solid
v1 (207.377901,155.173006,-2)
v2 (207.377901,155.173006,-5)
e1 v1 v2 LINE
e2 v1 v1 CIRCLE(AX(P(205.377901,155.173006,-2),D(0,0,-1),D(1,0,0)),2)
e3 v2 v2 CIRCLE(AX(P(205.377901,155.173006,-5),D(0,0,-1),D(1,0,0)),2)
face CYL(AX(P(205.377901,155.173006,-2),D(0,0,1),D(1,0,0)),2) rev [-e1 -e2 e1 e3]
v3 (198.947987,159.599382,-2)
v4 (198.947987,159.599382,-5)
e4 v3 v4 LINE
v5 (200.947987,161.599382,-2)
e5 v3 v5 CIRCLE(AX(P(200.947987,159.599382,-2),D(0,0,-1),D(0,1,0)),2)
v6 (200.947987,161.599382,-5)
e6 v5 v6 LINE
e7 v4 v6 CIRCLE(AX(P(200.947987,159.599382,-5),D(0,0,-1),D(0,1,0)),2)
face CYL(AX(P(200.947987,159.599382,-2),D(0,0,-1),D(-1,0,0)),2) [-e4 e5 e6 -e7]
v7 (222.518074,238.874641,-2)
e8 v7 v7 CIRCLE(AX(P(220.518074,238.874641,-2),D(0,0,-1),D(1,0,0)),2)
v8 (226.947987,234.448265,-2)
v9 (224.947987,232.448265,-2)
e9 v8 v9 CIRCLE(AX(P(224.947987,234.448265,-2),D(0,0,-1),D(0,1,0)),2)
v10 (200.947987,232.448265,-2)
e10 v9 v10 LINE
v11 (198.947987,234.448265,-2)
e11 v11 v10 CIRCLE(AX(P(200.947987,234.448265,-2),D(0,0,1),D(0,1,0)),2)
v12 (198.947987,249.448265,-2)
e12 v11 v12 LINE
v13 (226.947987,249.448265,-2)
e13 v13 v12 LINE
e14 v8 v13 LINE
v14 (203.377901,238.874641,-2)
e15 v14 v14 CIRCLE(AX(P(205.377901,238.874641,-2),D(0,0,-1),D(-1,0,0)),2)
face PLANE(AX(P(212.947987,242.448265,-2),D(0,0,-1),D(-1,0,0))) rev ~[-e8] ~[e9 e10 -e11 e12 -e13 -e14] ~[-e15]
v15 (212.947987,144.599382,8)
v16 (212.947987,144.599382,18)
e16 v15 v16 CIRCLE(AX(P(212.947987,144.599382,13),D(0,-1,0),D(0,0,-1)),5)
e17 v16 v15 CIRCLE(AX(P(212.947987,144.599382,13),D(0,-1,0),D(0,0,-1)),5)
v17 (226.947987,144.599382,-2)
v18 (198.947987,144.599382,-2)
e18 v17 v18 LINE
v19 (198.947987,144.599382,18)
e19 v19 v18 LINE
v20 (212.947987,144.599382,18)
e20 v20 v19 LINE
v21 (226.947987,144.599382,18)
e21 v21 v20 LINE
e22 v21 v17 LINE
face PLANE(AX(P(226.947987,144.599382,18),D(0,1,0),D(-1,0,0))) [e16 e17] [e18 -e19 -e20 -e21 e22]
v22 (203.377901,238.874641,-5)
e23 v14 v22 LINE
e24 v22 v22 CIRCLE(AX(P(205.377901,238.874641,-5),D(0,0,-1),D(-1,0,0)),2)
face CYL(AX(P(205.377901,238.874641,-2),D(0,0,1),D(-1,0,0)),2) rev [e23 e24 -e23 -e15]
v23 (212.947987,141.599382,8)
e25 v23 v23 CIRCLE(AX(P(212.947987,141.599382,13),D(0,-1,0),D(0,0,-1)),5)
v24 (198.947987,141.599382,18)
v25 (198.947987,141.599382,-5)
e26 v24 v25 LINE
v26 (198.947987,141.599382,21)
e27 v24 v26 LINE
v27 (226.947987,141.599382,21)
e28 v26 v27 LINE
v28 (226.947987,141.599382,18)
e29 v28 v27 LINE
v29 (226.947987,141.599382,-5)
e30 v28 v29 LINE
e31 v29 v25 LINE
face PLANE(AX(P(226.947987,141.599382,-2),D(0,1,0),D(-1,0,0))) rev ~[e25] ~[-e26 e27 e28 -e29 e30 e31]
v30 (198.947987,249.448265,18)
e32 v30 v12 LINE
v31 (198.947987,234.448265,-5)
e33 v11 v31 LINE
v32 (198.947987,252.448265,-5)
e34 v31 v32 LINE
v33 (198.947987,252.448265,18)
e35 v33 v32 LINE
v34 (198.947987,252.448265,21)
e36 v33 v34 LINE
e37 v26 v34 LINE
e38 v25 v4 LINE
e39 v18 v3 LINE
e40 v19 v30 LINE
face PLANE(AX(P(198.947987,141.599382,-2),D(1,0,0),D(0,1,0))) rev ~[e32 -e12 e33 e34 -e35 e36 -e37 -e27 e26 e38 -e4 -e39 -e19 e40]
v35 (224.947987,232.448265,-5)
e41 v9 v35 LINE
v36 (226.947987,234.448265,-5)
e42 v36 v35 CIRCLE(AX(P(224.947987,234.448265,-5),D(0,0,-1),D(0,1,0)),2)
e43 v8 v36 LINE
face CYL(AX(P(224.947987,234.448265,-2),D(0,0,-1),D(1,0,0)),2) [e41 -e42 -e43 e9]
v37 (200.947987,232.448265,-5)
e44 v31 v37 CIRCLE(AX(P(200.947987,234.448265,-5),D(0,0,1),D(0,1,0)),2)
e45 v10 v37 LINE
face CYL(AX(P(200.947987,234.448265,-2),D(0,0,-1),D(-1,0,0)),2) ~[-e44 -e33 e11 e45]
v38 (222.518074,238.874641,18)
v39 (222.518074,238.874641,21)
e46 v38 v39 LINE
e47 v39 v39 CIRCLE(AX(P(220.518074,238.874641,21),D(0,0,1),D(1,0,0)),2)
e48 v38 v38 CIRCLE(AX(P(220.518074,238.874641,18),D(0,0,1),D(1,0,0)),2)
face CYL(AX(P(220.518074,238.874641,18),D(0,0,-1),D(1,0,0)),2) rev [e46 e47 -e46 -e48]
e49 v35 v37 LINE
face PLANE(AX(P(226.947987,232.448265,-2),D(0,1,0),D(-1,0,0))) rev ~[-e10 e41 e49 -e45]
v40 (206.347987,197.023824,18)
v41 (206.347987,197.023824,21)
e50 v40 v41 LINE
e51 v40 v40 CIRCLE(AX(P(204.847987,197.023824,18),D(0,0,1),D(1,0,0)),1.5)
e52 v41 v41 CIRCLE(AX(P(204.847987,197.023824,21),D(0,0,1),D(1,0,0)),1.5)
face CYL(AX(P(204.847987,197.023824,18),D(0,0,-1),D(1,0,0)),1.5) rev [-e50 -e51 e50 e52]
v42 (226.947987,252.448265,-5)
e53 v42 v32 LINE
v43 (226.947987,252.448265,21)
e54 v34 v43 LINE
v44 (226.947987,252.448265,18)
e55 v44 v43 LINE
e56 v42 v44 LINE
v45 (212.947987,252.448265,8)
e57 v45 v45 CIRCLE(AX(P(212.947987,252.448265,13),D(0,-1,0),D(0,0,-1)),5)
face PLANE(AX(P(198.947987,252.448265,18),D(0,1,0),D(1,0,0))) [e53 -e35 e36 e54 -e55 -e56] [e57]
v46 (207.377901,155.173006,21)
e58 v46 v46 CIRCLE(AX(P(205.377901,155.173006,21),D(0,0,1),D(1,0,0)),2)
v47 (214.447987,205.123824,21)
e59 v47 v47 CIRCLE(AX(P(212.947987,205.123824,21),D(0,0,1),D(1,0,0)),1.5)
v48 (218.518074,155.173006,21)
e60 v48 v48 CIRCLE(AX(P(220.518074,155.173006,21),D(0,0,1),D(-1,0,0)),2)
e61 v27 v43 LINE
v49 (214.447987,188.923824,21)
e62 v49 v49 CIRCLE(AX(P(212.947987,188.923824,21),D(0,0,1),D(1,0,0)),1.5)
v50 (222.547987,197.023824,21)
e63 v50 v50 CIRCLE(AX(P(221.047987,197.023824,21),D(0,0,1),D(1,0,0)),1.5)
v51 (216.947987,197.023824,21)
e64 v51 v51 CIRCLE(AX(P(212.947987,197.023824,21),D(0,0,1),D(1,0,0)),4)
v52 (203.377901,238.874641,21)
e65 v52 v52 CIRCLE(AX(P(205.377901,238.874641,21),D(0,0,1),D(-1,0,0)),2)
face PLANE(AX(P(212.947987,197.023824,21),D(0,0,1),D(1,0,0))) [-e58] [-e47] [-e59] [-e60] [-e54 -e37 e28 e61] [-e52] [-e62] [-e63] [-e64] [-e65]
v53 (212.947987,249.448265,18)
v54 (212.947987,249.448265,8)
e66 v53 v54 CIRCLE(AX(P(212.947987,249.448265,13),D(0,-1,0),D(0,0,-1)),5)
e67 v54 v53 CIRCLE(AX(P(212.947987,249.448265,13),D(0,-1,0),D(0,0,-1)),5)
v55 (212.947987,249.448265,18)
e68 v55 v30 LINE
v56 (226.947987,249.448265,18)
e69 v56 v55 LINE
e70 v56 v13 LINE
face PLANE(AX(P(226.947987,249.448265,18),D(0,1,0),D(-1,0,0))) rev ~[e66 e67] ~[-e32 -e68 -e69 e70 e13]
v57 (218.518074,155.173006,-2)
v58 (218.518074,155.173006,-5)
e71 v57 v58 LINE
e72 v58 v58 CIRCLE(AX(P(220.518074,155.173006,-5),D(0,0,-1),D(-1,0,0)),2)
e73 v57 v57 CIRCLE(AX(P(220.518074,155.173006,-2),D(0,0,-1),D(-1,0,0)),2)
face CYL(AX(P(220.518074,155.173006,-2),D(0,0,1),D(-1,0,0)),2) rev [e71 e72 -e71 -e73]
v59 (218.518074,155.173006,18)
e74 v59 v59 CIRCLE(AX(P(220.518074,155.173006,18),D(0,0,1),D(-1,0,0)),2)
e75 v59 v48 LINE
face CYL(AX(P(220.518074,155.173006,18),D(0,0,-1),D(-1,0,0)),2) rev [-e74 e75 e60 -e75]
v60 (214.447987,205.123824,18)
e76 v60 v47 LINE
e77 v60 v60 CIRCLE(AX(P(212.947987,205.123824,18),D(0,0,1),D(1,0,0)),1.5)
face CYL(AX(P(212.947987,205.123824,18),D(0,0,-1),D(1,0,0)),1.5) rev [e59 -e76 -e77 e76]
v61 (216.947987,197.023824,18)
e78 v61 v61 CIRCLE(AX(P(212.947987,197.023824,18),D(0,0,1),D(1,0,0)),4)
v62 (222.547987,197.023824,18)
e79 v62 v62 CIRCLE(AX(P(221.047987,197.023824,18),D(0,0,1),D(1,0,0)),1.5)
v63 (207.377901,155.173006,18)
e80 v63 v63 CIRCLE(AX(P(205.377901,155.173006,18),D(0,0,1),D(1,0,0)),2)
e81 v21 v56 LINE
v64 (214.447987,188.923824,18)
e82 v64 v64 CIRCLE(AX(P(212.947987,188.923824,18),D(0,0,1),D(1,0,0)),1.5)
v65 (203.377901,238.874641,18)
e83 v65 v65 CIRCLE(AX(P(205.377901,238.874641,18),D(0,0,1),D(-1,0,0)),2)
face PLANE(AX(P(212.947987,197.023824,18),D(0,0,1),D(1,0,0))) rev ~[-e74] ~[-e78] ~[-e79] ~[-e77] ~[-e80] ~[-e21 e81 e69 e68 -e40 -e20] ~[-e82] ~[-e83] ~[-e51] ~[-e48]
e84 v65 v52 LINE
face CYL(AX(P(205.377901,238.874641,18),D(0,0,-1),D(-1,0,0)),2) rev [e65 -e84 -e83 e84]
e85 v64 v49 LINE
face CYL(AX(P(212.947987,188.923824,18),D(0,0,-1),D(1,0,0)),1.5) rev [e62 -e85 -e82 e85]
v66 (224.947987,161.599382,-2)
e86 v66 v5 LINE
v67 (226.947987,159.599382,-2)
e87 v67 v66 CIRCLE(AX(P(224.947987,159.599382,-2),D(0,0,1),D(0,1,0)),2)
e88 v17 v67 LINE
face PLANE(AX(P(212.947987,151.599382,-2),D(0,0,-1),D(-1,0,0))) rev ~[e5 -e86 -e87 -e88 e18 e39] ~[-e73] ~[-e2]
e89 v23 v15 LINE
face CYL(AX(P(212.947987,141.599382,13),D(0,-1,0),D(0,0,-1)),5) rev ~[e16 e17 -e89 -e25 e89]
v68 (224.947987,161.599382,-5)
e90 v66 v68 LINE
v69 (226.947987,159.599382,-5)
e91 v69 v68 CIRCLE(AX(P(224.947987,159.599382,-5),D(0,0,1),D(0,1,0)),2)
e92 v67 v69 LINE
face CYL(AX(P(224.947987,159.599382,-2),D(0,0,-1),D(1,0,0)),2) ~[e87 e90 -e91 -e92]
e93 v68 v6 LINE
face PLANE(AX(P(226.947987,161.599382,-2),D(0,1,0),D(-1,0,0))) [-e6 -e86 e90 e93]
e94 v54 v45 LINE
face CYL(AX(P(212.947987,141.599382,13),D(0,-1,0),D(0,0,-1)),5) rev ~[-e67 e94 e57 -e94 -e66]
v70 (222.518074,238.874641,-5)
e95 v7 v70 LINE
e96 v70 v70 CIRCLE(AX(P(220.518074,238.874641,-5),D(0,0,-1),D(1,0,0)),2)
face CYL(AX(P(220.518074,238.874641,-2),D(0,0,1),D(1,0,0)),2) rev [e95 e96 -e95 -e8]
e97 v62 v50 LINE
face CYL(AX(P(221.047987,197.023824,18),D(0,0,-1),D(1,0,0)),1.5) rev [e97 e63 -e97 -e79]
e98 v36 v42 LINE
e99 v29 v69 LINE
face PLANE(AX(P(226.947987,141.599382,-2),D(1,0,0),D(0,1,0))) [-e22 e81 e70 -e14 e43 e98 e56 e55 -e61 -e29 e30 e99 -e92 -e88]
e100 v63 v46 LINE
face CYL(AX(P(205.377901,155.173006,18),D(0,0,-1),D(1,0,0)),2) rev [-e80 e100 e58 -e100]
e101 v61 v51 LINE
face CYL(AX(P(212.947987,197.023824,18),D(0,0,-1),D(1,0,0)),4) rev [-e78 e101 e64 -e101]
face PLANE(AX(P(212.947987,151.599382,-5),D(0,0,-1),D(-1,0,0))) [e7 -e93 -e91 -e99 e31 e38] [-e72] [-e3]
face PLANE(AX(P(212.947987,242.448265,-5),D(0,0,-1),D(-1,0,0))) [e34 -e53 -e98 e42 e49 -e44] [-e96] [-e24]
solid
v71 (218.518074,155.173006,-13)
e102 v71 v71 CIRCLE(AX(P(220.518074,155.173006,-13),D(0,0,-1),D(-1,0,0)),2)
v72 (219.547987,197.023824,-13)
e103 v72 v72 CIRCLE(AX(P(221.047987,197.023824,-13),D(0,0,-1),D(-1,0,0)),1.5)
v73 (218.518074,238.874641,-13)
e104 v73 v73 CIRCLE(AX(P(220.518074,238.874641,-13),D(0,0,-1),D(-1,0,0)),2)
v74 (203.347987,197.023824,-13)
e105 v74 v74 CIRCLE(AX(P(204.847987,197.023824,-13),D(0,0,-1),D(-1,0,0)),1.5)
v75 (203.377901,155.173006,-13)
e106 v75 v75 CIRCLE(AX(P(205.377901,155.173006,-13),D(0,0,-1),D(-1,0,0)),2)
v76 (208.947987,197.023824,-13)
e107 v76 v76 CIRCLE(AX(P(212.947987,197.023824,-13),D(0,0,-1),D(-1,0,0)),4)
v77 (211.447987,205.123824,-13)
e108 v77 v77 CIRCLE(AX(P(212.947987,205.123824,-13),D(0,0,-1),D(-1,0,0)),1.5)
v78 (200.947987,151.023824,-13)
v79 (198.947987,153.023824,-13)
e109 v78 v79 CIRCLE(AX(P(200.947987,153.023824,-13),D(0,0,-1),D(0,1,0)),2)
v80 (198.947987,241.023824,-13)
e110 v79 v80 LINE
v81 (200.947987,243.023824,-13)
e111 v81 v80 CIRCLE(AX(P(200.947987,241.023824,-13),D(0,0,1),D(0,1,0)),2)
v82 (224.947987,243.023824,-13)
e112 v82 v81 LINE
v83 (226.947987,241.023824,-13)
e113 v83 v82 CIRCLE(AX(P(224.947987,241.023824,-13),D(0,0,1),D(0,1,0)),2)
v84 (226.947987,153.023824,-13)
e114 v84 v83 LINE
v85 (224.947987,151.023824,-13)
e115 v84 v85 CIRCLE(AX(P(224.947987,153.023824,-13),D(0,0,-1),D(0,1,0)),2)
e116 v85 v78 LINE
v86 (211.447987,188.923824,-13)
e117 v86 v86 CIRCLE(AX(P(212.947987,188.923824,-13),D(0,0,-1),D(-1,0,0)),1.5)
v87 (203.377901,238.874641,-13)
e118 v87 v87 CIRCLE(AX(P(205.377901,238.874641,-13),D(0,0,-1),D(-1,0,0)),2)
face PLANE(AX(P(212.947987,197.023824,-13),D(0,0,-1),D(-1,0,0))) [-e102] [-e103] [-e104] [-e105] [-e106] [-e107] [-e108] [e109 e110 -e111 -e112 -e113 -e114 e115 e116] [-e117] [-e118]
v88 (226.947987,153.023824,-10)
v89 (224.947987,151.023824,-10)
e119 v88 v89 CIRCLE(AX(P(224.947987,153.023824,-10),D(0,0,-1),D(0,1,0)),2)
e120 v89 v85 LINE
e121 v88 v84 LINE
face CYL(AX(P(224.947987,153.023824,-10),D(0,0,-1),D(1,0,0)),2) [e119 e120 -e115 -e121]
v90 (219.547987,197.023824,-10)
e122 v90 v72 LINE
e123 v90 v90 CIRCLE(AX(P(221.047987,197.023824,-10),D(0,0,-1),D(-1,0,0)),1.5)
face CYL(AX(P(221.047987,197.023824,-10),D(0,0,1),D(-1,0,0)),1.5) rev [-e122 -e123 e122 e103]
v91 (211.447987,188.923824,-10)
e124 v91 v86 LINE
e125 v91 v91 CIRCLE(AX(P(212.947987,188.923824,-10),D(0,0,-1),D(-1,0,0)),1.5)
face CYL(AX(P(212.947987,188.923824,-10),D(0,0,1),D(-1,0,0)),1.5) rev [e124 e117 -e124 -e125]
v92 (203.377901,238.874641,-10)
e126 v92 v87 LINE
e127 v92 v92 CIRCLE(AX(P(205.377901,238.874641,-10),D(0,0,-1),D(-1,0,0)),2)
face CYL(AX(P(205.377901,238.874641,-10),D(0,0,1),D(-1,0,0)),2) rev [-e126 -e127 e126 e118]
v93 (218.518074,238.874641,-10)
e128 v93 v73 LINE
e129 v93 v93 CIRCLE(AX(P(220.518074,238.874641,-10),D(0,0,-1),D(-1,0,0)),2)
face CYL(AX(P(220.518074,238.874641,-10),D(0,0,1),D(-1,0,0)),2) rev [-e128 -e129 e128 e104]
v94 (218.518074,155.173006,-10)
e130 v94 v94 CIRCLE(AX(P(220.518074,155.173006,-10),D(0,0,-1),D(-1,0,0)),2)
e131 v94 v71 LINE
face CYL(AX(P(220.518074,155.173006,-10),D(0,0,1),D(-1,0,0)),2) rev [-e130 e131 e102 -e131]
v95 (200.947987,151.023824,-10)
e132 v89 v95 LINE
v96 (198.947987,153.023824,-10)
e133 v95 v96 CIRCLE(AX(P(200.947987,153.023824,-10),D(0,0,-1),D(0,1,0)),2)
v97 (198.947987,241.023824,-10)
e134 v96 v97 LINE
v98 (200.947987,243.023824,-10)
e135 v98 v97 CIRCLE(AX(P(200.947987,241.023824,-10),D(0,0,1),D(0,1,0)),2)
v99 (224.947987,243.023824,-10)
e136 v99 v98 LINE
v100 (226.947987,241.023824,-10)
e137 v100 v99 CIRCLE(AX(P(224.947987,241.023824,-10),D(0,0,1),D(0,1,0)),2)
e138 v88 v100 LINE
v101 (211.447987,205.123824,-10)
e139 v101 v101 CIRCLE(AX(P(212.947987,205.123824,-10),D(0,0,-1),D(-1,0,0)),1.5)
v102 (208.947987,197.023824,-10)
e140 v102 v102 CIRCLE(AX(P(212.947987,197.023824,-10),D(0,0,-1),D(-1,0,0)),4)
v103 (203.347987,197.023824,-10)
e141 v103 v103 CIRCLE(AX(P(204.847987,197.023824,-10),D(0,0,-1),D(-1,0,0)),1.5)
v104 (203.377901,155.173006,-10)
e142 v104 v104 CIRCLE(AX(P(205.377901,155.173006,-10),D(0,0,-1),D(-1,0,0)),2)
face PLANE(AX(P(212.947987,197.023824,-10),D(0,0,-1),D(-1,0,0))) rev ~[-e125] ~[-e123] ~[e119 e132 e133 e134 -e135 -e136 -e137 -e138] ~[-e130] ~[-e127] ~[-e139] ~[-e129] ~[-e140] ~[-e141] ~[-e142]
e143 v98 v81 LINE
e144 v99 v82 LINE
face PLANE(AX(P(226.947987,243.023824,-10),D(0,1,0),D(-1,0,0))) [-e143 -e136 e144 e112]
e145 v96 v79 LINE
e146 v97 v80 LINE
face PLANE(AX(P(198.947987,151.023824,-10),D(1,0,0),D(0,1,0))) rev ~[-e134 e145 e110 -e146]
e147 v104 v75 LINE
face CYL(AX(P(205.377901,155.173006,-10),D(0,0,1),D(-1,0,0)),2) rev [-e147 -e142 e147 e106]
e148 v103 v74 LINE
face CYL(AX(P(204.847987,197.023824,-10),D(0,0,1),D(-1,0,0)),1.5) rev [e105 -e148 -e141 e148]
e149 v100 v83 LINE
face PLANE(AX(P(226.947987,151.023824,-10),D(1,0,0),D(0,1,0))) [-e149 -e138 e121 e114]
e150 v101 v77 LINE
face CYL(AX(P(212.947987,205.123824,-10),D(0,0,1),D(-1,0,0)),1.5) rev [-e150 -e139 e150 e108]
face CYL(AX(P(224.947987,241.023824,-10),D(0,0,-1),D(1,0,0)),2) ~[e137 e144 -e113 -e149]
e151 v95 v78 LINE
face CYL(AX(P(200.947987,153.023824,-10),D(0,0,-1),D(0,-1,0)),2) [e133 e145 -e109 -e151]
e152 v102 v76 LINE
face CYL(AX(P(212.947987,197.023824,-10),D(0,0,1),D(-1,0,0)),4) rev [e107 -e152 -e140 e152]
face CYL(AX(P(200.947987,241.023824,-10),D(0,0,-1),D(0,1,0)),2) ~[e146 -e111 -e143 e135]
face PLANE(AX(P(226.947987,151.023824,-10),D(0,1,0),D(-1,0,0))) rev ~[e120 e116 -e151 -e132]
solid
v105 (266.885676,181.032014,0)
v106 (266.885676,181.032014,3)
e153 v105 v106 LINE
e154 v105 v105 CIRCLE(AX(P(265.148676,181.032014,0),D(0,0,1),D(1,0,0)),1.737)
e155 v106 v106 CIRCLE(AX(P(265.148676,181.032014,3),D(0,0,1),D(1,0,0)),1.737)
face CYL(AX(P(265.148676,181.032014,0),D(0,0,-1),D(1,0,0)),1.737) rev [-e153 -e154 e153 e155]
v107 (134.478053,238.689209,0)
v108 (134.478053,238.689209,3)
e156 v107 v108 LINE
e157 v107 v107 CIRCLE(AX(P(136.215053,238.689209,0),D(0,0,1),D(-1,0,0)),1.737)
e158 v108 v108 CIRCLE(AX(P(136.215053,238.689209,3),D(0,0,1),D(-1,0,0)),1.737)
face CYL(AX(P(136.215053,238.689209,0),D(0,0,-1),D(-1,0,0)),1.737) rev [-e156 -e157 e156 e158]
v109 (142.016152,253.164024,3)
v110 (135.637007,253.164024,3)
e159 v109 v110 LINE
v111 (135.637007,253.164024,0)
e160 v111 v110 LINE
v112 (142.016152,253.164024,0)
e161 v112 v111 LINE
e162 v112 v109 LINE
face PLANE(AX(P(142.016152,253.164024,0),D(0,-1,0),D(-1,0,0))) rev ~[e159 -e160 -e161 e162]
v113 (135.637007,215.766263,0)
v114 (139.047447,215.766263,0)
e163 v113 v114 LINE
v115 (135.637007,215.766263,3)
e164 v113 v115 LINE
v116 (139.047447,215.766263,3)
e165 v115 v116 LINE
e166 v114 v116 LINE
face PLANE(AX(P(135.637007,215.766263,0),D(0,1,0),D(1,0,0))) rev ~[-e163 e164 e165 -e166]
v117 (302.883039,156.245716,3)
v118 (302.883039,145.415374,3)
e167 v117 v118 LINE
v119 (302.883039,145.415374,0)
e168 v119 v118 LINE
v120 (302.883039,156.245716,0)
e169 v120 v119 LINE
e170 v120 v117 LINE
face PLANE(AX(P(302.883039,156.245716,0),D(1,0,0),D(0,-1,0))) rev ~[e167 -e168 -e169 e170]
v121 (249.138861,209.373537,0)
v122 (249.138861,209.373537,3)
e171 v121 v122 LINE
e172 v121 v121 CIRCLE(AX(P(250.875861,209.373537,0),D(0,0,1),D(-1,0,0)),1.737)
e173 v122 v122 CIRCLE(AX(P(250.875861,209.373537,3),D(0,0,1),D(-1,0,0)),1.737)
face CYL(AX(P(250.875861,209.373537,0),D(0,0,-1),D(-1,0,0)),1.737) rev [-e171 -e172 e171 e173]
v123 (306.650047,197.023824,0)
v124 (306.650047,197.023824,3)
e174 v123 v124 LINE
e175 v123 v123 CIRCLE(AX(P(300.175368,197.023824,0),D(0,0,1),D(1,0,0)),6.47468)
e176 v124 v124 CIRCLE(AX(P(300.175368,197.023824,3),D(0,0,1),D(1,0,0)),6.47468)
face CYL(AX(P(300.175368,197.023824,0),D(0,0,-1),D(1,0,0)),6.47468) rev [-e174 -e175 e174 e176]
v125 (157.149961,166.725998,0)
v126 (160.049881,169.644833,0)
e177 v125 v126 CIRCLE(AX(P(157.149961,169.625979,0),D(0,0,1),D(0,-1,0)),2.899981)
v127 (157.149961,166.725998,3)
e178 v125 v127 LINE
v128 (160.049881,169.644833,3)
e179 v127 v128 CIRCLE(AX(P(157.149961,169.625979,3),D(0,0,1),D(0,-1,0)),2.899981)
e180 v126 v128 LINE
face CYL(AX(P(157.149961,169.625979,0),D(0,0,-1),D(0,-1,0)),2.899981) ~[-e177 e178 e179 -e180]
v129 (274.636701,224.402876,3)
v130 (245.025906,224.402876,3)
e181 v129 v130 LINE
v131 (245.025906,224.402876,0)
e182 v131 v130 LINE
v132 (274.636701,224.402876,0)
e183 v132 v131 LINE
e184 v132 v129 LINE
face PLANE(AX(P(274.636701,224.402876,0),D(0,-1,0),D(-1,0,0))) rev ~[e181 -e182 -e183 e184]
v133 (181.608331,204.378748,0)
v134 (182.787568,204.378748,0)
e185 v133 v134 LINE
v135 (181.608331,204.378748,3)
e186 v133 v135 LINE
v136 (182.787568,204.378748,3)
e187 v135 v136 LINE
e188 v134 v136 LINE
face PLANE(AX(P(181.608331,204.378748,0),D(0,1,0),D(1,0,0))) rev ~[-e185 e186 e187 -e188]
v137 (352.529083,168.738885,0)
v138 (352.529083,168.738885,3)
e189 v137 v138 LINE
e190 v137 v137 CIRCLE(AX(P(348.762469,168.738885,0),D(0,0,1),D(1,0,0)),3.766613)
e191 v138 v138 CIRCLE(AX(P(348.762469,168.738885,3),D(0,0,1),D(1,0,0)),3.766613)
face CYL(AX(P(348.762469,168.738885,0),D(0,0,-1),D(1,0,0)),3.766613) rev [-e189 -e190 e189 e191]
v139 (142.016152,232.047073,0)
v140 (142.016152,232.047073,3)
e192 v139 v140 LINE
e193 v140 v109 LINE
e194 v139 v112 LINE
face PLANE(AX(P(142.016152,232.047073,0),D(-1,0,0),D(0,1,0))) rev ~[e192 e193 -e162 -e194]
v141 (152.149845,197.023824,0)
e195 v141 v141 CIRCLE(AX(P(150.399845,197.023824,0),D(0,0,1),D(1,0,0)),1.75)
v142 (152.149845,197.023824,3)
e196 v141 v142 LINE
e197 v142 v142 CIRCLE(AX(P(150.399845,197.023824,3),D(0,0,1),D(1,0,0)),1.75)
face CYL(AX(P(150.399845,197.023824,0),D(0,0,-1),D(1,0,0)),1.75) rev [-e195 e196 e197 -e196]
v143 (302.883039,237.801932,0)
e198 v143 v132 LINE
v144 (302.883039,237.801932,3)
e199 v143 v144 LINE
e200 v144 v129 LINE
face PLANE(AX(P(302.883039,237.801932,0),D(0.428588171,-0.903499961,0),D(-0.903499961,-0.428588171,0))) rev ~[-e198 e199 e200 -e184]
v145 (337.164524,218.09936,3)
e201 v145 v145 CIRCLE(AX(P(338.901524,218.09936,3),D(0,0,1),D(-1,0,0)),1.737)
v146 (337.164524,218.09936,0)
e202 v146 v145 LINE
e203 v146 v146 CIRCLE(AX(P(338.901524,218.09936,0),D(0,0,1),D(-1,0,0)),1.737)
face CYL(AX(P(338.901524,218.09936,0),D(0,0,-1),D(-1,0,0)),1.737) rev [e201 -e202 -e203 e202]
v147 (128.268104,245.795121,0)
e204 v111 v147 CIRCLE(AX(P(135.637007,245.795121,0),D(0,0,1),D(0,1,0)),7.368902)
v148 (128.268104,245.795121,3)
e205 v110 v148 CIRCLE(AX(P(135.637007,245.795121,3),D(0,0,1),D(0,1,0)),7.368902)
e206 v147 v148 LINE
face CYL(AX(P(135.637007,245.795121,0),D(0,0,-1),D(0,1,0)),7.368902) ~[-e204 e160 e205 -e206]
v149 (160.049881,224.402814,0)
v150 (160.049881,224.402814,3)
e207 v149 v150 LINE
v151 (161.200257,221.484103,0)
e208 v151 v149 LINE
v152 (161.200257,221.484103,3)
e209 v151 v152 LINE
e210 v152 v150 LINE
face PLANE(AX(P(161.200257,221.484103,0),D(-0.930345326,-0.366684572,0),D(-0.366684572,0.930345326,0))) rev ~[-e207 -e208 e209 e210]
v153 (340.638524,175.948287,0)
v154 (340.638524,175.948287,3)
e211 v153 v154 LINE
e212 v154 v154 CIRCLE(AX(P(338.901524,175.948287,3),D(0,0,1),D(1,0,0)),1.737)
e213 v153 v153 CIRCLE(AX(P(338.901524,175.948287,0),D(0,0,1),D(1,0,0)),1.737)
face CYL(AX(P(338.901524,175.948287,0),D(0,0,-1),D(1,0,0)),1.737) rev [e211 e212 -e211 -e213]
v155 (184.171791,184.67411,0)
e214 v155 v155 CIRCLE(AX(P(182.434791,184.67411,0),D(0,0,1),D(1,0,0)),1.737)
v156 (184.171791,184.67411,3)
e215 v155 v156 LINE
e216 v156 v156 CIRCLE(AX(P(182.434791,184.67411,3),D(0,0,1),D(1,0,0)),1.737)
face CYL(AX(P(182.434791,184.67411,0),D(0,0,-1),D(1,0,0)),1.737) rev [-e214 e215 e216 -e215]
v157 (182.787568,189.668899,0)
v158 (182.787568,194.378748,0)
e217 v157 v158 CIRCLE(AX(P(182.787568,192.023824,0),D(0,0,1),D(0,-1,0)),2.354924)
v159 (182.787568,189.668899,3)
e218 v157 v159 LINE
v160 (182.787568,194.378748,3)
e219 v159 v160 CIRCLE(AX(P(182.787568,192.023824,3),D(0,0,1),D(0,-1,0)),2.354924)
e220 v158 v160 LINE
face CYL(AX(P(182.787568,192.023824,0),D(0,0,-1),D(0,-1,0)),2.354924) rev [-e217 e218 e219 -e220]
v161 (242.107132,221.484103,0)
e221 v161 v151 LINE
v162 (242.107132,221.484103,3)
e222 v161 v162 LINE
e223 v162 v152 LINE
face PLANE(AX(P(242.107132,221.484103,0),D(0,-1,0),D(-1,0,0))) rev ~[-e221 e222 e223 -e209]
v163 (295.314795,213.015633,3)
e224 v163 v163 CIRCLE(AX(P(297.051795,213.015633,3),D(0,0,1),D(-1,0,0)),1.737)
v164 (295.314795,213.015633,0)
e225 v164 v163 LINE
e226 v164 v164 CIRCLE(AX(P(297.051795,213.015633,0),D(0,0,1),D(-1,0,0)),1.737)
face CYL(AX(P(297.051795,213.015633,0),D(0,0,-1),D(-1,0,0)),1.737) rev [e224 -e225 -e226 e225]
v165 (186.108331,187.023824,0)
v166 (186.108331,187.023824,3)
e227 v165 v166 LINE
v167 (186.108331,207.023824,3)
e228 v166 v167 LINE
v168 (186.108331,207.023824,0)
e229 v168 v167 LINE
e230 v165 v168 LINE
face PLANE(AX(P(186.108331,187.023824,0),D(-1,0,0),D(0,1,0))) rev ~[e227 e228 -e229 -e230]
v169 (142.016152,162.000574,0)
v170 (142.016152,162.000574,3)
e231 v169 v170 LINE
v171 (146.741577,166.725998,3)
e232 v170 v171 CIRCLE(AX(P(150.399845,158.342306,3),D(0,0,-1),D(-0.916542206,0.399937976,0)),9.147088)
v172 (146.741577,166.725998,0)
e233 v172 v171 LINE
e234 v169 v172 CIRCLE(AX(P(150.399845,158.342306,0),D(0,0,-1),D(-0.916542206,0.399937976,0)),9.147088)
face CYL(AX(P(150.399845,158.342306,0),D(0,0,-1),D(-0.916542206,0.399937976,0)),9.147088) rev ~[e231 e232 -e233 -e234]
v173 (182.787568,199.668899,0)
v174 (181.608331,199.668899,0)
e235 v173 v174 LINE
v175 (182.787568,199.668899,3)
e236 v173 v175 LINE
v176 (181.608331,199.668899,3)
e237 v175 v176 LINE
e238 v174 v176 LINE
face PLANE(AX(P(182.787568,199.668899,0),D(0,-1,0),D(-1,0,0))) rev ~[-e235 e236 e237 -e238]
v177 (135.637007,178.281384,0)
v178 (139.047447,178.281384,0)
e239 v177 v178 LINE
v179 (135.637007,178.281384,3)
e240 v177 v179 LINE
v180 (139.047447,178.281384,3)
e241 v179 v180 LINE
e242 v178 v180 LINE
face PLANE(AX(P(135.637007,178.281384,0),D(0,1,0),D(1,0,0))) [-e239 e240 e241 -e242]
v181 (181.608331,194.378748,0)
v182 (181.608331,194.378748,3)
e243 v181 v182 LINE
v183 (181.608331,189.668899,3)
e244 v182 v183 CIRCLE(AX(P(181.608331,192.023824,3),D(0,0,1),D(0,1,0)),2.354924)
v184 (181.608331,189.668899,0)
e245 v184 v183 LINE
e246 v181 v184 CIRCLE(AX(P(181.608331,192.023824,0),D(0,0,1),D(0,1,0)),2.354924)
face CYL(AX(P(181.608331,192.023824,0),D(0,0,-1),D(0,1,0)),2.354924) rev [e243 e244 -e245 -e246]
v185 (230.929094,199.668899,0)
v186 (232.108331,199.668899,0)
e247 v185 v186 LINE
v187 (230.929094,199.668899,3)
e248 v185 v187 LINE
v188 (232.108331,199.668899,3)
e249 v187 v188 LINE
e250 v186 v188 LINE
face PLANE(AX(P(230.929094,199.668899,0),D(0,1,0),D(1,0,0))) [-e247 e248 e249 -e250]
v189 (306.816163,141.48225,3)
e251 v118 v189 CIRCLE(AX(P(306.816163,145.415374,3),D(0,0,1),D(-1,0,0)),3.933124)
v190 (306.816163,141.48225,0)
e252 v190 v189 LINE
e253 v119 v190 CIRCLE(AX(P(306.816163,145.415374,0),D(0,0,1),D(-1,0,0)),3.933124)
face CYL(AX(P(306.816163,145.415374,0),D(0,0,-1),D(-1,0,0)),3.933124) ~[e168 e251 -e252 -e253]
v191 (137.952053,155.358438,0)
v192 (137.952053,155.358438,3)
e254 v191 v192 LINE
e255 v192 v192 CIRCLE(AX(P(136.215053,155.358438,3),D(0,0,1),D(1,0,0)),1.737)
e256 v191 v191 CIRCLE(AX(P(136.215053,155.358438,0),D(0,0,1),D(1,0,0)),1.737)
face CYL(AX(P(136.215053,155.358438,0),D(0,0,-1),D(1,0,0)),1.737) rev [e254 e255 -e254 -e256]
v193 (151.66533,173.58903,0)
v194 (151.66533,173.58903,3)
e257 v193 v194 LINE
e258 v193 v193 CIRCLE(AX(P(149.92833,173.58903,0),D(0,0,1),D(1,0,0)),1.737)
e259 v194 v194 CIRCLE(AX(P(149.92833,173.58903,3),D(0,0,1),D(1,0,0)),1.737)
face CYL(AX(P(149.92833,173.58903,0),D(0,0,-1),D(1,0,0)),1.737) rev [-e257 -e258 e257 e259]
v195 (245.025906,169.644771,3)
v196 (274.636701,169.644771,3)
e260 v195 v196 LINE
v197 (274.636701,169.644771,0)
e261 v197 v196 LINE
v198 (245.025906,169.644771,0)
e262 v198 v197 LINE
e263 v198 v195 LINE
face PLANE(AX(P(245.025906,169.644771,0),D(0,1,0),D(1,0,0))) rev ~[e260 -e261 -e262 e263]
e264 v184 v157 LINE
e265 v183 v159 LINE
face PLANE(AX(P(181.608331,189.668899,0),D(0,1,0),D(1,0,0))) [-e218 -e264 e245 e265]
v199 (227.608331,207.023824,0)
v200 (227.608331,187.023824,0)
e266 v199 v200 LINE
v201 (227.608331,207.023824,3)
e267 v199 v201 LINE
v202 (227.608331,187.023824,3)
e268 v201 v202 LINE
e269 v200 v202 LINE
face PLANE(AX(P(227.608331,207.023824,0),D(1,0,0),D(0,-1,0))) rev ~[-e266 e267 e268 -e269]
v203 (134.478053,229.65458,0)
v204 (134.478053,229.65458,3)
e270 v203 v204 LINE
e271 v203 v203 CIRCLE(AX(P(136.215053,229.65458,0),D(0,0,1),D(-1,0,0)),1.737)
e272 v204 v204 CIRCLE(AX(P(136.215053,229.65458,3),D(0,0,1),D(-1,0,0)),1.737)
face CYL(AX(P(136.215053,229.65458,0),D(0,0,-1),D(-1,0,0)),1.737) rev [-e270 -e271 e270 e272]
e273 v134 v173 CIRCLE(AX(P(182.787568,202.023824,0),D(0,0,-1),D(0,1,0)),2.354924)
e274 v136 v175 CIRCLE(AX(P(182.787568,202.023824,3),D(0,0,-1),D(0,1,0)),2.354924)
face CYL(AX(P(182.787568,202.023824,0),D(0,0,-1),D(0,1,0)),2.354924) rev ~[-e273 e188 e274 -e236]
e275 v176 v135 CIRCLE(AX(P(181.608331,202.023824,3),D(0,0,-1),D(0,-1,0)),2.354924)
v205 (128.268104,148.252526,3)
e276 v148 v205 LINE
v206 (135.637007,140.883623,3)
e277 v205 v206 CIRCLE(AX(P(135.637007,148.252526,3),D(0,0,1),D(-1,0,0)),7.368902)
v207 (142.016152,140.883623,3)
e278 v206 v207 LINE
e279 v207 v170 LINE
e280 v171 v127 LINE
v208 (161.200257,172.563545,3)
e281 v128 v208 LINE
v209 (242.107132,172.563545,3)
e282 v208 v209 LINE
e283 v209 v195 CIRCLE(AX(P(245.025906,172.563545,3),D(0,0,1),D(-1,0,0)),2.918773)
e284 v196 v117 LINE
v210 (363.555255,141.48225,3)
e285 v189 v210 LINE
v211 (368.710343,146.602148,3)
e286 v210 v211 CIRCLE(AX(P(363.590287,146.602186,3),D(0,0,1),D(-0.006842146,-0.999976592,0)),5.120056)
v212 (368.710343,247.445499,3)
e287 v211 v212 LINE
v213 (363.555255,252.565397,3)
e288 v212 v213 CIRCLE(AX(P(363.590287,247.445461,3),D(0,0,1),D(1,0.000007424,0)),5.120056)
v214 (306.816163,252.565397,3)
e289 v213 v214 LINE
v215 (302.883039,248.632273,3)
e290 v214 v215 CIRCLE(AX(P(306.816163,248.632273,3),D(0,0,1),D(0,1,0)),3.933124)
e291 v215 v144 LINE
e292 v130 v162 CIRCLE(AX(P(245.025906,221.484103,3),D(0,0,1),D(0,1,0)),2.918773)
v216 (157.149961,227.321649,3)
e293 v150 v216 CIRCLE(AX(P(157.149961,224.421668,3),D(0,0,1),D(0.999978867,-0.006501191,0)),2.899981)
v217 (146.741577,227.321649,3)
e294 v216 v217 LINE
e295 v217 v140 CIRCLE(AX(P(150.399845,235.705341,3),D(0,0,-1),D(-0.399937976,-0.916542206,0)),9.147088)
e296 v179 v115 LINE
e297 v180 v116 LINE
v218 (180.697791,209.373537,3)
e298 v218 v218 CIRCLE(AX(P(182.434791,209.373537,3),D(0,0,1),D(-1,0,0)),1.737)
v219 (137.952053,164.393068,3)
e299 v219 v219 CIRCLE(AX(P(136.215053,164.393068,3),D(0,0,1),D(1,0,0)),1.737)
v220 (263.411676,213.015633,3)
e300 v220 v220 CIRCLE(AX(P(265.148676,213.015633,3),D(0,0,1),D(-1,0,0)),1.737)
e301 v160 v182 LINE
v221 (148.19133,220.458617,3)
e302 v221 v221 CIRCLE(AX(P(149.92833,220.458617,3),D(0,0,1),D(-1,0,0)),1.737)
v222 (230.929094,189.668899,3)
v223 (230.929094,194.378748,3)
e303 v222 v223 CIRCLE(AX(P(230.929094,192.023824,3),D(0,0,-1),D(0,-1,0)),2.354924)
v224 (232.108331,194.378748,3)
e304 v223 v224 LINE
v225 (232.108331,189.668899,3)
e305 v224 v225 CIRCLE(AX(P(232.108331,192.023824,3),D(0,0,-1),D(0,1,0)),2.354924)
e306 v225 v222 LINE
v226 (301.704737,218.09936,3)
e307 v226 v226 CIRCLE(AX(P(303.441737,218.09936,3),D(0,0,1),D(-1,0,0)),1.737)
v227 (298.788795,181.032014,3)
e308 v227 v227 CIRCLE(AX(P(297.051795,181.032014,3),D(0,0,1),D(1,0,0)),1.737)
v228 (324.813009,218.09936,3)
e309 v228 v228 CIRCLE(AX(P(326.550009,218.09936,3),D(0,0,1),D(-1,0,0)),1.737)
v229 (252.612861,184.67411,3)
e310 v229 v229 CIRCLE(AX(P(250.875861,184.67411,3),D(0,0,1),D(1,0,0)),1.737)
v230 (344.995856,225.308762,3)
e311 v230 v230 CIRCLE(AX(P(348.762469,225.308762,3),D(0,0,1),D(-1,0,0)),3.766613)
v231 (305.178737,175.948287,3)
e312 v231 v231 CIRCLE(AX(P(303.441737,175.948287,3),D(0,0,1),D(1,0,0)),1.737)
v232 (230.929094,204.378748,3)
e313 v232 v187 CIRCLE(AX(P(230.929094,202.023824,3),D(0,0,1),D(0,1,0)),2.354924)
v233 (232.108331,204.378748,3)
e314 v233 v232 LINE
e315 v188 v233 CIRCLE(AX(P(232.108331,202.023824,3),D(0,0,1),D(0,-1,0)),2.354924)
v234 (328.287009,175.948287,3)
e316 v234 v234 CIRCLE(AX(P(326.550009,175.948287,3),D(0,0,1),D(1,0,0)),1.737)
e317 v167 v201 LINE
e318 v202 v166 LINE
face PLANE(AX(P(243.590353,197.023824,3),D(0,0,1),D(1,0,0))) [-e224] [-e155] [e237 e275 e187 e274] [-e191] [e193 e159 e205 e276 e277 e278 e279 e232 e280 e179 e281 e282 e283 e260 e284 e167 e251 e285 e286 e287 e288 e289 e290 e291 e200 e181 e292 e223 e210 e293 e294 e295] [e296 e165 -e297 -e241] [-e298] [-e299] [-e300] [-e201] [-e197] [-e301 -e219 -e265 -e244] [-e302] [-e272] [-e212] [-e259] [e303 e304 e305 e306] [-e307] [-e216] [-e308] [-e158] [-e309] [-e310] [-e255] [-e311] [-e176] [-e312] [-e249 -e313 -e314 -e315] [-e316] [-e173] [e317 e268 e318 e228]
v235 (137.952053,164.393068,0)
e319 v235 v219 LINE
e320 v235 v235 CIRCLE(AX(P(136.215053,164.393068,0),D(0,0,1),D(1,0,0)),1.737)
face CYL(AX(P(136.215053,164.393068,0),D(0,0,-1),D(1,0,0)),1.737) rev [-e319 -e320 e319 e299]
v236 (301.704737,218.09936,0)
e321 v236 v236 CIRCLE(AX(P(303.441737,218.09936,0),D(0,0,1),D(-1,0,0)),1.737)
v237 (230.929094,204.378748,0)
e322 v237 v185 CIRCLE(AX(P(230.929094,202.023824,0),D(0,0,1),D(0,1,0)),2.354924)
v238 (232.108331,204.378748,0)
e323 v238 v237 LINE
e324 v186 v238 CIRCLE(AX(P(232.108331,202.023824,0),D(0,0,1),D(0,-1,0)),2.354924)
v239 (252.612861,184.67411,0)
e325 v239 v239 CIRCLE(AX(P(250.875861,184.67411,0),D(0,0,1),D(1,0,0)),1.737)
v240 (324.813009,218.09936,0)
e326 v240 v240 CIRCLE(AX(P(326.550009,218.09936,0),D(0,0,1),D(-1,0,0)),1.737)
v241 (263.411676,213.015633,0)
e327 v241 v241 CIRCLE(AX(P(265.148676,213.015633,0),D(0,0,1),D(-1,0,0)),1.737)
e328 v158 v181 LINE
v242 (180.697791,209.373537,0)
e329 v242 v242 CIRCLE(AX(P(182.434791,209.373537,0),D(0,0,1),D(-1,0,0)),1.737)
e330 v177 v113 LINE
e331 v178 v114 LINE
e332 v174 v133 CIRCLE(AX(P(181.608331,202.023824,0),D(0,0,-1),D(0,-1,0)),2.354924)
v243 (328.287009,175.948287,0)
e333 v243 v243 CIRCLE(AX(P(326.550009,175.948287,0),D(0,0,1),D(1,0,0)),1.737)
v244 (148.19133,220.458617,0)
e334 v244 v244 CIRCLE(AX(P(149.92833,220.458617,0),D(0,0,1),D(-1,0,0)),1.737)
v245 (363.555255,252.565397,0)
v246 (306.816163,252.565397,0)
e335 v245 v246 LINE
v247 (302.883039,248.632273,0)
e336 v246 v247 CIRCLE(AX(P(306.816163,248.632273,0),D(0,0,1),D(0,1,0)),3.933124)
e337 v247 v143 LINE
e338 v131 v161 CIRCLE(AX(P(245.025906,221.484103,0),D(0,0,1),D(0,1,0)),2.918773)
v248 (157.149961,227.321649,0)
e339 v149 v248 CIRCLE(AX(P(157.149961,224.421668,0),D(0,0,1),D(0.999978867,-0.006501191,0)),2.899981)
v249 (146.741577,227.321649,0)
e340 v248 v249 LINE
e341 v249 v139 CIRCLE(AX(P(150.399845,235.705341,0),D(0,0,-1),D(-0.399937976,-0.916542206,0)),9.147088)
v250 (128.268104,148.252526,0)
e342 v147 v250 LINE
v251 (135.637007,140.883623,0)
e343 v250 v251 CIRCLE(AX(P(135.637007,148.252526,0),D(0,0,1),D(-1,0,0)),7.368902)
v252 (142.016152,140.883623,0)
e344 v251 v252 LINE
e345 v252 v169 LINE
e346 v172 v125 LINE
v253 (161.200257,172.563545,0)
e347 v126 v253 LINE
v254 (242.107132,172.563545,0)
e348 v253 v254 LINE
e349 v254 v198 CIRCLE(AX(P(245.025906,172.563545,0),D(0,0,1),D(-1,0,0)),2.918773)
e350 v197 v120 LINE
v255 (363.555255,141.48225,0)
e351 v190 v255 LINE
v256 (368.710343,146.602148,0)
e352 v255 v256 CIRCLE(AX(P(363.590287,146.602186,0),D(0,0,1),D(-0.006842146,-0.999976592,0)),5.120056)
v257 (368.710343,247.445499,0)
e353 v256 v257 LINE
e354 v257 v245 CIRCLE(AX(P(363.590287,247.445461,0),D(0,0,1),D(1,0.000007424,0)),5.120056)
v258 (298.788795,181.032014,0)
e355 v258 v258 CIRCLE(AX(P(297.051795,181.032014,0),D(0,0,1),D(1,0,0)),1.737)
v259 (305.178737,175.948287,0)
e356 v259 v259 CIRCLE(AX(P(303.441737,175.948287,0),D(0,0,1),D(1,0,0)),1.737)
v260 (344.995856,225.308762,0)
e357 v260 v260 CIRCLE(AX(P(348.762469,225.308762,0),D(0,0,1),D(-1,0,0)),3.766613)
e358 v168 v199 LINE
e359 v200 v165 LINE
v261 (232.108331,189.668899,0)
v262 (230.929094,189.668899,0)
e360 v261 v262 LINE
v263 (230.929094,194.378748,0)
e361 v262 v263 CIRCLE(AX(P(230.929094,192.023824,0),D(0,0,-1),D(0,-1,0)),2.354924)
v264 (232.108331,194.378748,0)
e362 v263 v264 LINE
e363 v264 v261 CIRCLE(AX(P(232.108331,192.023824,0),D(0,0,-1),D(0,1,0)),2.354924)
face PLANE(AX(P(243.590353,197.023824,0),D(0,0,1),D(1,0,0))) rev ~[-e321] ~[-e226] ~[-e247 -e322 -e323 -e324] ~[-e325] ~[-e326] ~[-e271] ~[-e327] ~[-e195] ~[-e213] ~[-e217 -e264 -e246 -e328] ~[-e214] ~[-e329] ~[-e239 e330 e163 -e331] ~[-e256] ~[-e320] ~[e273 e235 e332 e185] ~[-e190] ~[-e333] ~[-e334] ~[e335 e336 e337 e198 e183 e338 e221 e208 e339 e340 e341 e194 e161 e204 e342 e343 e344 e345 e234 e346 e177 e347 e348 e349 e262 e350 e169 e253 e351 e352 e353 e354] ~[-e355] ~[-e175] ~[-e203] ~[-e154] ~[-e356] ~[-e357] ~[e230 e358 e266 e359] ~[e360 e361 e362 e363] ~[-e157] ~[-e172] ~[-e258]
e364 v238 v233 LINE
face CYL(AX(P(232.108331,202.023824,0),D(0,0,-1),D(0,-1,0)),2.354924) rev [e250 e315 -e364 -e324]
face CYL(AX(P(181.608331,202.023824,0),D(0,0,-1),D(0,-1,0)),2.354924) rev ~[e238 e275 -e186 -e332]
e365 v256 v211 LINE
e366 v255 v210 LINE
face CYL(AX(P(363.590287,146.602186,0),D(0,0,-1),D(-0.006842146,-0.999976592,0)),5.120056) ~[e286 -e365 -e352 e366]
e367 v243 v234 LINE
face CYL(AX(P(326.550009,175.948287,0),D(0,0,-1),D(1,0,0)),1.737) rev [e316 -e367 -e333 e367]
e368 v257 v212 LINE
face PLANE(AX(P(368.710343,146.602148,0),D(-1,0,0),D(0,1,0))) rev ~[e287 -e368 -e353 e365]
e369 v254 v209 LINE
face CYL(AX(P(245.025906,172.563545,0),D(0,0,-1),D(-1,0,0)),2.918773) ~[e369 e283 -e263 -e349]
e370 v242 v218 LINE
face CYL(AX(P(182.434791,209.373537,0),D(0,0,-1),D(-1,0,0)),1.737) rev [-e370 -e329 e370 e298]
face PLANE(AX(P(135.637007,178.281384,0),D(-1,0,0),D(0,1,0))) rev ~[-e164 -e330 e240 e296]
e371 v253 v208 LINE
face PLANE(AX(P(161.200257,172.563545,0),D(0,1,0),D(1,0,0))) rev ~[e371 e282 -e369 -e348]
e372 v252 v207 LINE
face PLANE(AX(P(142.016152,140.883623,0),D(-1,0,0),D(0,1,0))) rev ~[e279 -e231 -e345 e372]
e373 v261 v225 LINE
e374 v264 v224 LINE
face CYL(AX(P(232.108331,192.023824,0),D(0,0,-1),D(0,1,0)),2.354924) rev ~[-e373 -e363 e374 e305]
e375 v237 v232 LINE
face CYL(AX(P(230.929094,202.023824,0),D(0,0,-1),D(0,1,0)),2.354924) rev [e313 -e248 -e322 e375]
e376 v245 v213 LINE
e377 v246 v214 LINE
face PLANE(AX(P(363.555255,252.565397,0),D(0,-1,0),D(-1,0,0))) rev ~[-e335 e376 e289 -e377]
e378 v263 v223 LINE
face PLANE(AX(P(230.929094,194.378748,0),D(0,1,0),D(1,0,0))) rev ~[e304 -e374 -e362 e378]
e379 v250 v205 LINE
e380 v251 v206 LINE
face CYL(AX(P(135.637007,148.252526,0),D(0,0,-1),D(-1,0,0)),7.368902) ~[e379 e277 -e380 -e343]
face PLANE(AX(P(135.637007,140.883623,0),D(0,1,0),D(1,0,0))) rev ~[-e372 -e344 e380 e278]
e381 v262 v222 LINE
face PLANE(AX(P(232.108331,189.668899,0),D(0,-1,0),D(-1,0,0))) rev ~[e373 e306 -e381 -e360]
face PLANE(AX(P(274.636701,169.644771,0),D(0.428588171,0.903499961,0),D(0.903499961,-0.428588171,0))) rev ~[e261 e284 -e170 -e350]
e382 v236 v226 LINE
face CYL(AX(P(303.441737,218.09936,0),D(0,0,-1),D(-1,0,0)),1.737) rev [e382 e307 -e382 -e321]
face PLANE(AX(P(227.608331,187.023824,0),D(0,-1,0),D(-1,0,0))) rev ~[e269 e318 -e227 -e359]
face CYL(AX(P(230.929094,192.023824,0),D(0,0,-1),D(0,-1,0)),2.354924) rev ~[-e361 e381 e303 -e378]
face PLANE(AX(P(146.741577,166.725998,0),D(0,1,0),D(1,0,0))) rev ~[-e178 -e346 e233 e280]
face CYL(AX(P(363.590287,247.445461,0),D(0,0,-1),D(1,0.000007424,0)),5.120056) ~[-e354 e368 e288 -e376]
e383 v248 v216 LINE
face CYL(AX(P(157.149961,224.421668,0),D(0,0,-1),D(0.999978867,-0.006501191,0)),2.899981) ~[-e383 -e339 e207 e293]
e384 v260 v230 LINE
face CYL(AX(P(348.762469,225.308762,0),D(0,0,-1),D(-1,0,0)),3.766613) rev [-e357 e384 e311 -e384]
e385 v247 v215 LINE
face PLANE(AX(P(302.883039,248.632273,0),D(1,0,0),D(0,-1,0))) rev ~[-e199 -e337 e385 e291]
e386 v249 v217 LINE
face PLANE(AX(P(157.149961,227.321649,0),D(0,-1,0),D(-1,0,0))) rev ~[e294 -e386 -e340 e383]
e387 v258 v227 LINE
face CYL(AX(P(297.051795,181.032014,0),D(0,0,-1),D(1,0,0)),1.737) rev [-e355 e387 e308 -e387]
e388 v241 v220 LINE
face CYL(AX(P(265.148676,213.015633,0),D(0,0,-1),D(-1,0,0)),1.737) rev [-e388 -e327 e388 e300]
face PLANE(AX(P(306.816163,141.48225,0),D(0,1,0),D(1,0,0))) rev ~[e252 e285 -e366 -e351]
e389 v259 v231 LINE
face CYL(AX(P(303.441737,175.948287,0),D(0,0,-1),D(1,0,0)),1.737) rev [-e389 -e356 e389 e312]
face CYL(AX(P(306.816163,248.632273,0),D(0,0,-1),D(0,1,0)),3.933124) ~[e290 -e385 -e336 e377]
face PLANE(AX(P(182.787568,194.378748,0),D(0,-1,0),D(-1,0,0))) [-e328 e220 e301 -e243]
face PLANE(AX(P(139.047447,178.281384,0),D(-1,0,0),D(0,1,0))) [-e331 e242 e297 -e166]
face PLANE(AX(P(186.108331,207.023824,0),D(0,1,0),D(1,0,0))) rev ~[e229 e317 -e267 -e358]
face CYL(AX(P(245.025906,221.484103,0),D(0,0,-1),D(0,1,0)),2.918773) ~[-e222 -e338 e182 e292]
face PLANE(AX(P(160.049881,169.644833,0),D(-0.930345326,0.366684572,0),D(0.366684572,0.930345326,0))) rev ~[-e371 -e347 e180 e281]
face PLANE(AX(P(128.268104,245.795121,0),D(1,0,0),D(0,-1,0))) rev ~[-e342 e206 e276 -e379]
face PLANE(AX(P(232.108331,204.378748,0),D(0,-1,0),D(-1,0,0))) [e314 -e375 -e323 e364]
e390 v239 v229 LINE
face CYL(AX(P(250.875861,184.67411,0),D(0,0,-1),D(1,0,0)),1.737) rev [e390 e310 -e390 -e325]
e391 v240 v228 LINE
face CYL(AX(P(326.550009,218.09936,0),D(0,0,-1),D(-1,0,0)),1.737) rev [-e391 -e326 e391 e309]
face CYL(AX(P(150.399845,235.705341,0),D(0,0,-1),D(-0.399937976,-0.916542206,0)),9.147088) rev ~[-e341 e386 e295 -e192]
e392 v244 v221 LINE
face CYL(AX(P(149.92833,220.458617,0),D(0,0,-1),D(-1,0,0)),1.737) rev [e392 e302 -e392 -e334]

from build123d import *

# Parameters (mm, degrees)
CROQUIS2_R              = 1.737
CROQUIS2_R_2            = 6.474679508
CROQUIS2_R_3            = 1.75
CROQUIS2_R_4            = 3.766613255
CROQUIS2_W              = 3.410440409
CROQUIS2_H              = 37.484878613
SALIENTE_EXTRUIR1_DEPTH = 3
CROQUIS5_W              = 28
CROQUIS5_H              = 110.848883777
CROQUIS5_R              = 2
CROQUIS5_R_2            = 1.5
CROQUIS5_R_3            = 4
SALIENTE_EXTRUIR2_DEPTH = 3
CROQUIS8_W              = 28
CROQUIS8_H              = 3
SALIENTE_EXTRUIR3_DEPTH = 20
CROQUIS9_W              = 28
CROQUIS9_H              = 20
CROQUIS9_R              = 2
SALIENTE_EXTRUIR4_DEPTH = 3
CROQUIS11_W             = 28
CROQUIS11_H             = 92
CROQUIS11_R             = 2
CROQUIS11_R_2           = 4
CROQUIS11_R_3           = 1.5
SALIENTE_EXTRUIR5_DEPTH = 3
REDONDEO1_R             = 2
REDONDEO2_R             = 2
CROQUIS14_R             = 5
CORTAR_EXTRUIR1_DEPTH   = 143


with BuildPart() as part:
    # Croquis2 → Saliente-Extruir1 (new body)
    with BuildSketch(Plane.XY):
        with BuildLine():
            Line((135.637006617, 140.883623312), (142.01615233, 140.883623312))
            Line((142.01615233, 140.883623312), (142.01615233, 162.000573595))
            ThreePointArc((142.01615233, 162.000573595), (143.931876639, 164.810273756), (146.7415768, 166.725998065))
            Line((146.7415768, 166.725998065), (157.149961252, 166.725998065))
            ThreePointArc((157.149961252, 166.725998065), (159.207212475, 167.582059418), (160.049881153, 169.644832585))
            Line((160.049881153, 169.644832585), (161.200256838, 172.563544535))
            Line((161.200256838, 172.563544535), (242.107132368, 172.563544535))
            ThreePointArc((242.107132368, 172.563544535), (242.962021256, 170.499660188), (245.025905603, 169.6447713))
            Line((245.025905603, 169.6447713), (274.636700881, 169.6447713))
            Line((274.636700881, 169.6447713), (302.883038873, 156.245715556))
            Line((302.883038873, 156.245715556), (302.883038873, 145.415373876))
            ThreePointArc((302.883038873, 145.415373876), (304.035024246, 142.634235165), (306.816162957, 141.482249792))
            Line((306.816162957, 141.482249792), (363.555254762, 141.482249792))
            ThreePointArc((363.555254762, 141.482249792), (367.198292756, 142.9693816), (368.710342921, 146.602147921))
            Line((368.710342921, 146.602147921), (368.710342921, 247.445499159))
            ThreePointArc((368.710342921, 247.445499159), (367.198292756, 251.07826548), (363.555254762, 252.565397288))
            Line((363.555254762, 252.565397288), (306.816162957, 252.565397288))
            ThreePointArc((306.816162957, 252.565397288), (304.035024246, 251.413411916), (302.883038873, 248.632273205))
            Line((302.883038873, 248.632273205), (302.883038873, 237.801931524))
            Line((302.883038873, 237.801931524), (274.636700881, 224.402875781))
            Line((274.636700881, 224.402875781), (245.025905603, 224.402875781))
            ThreePointArc((245.025905603, 224.402875781), (242.962021256, 223.547986893), (242.107132368, 221.484102546))
            Line((242.107132368, 221.484102546), (161.200256838, 221.484102546))
            Line((161.200256838, 221.484102546), (160.049881153, 224.402814495))
            ThreePointArc((160.049881153, 224.402814495), (159.207212475, 226.465587662), (157.149961252, 227.321649016))
            Line((157.149961252, 227.321649016), (146.7415768, 227.321649016))
            ThreePointArc((146.7415768, 227.321649016), (143.931876639, 229.237373325), (142.01615233, 232.047073485))
            Line((142.01615233, 232.047073485), (142.01615233, 253.164023769))
            Line((142.01615233, 253.164023769), (135.637006617, 253.164023769))
            ThreePointArc((135.637006617, 253.164023769), (130.426405841, 251.005722259), (128.268104332, 245.795121484))
            Line((128.268104332, 245.795121484), (128.268104332, 148.252525597))
            ThreePointArc((128.268104332, 148.252525597), (130.426405841, 143.041924821), (135.637006617, 140.883623312))
        make_face()
        with Locations((136.215052653, 164.393067533)):
            Circle(CROQUIS2_R, mode=Mode.SUBTRACT)
        with Locations((136.215052653, 155.358437852)):
            Circle(CROQUIS2_R, mode=Mode.SUBTRACT)
        with Locations((149.928329849, 173.589029888)):
            Circle(CROQUIS2_R, mode=Mode.SUBTRACT)
        with Locations((182.434790984, 184.674109598)):
            Circle(CROQUIS2_R, mode=Mode.SUBTRACT)
        with Locations((250.875860992, 184.674109598)):
            Circle(CROQUIS2_R, mode=Mode.SUBTRACT)
        with Locations((265.148676133, 181.032013917)):
            Circle(CROQUIS2_R, mode=Mode.SUBTRACT)
        with Locations((297.051795115, 181.032013917)):
            Circle(CROQUIS2_R, mode=Mode.SUBTRACT)
        with Locations((303.441737448, 175.948286728)):
            Circle(CROQUIS2_R, mode=Mode.SUBTRACT)
        with Locations((326.550008787, 175.948286728)):
            Circle(CROQUIS2_R, mode=Mode.SUBTRACT)
        with Locations((338.901523724, 175.948286728)):
            Circle(CROQUIS2_R, mode=Mode.SUBTRACT)
        with Locations(Location((338.901523724, 218.099360352, 0), (0, 0, 180))):
            Circle(CROQUIS2_R, mode=Mode.SUBTRACT)
        with Locations(Location((326.550008787, 218.099360352, 0), (0, 0, 180))):
            Circle(CROQUIS2_R, mode=Mode.SUBTRACT)
        with Locations(Location((303.441737448, 218.099360352, 0), (0, 0, 180))):
            Circle(CROQUIS2_R, mode=Mode.SUBTRACT)
        with Locations(Location((297.051795115, 213.015633164, 0), (0, 0, 180))):
            Circle(CROQUIS2_R, mode=Mode.SUBTRACT)
        with Locations(Location((265.148676133, 213.015633164, 0), (0, 0, 180))):
            Circle(CROQUIS2_R, mode=Mode.SUBTRACT)
        with Locations(Location((250.875860992, 209.373537482, 0), (0, 0, 180))):
            Circle(CROQUIS2_R, mode=Mode.SUBTRACT)
        with Locations(Location((182.434790984, 209.373537482, 0), (0, 0, 180))):
            Circle(CROQUIS2_R, mode=Mode.SUBTRACT)
        with Locations(Location((149.928329849, 220.458617193, 0), (0, 0, 180))):
            Circle(CROQUIS2_R, mode=Mode.SUBTRACT)
        with Locations(Location((136.215052653, 238.689209229, 0), (0, 0, 180))):
            Circle(CROQUIS2_R, mode=Mode.SUBTRACT)
        with Locations(Location((136.215052653, 229.654579547, 0), (0, 0, 180))):
            Circle(CROQUIS2_R, mode=Mode.SUBTRACT)
        with Locations((300.175367567, 197.02382354)):
            Circle(CROQUIS2_R_2, mode=Mode.SUBTRACT)
        with Locations((150.399844764, 197.02382354)):
            Circle(CROQUIS2_R_3, mode=Mode.SUBTRACT)
        with Locations((348.762469348, 168.738884611)):
            Circle(CROQUIS2_R_4, mode=Mode.SUBTRACT)
        with Locations(Location((348.762469348, 225.30876247, 0), (0, 0, 180))):
            Circle(CROQUIS2_R_4, mode=Mode.SUBTRACT)
        with Locations((137.342226821, 197.023823541)):
            Rectangle(CROQUIS2_W, CROQUIS2_H, mode=Mode.SUBTRACT)
        Polygon((186.108331183, 187.02382354), (186.108331183, 207.02382354), (227.108331183, 207.02382354), (227.608331183, 207.02382354), (227.608331183, 187.02382354), align=None, mode=Mode.SUBTRACT)
        with BuildLine():
            Line((181.608331183, 204.378747893), (182.787568431, 204.378747893))
            ThreePointArc((182.787568431, 204.378747893), (185.142492784, 202.02382354), (182.787568431, 199.668899188))
            Line((182.787568431, 199.668899188), (181.608331183, 199.668899188))
            ThreePointArc((181.608331183, 199.668899188), (179.25340683, 202.02382354), (181.608331183, 204.378747893))
        make_face(mode=Mode.SUBTRACT)
        with BuildLine():
            Line((181.608331183, 189.668899188), (182.787568431, 189.668899188))
            ThreePointArc((182.787568431, 189.668899188), (185.142492784, 192.02382354), (182.787568431, 194.378747893))
            Line((182.787568431, 194.378747893), (181.608331183, 194.378747893))
            ThreePointArc((181.608331183, 194.378747893), (179.25340683, 192.02382354), (181.608331183, 189.668899188))
        make_face(mode=Mode.SUBTRACT)
        with BuildLine():
            Line((232.108331183, 189.668899188), (230.929093935, 189.668899188))
            ThreePointArc((230.929093935, 189.668899188), (228.574169582, 192.02382354), (230.929093935, 194.378747893))
            Line((230.929093935, 194.378747893), (232.108331183, 194.378747893))
            ThreePointArc((232.108331183, 194.378747893), (234.463255535, 192.02382354), (232.108331183, 189.668899188))
        make_face(mode=Mode.SUBTRACT)
        with BuildLine():
            Line((232.108331183, 204.378747893), (230.929093935, 204.378747893))
            ThreePointArc((230.929093935, 204.378747893), (228.574169582, 202.02382354), (230.929093935, 199.668899188))
            Line((230.929093935, 199.668899188), (232.108331183, 199.668899188))
            ThreePointArc((232.108331183, 199.668899188), (234.463255535, 202.02382354), (232.108331183, 204.378747893))
        make_face(mode=Mode.SUBTRACT)
    extrude(amount=SALIENTE_EXTRUIR1_DEPTH)


with BuildPart() as body_2:
    # Croquis5 → Saliente-Extruir2 (new body)
    with BuildSketch(Plane.XY.offset(18)):
        with Locations((212.947987222, 197.023823541)):
            Rectangle(CROQUIS5_W, CROQUIS5_H)
        with Locations((205.377900936, 155.173005863)):
            Circle(CROQUIS5_R, mode=Mode.SUBTRACT)
        with Locations(Location((220.518073507, 155.173005863, 0), (0, 0, 180))):
            Circle(CROQUIS5_R, mode=Mode.SUBTRACT)
        with Locations((220.518073507, 238.874641218)):
            Circle(CROQUIS5_R, mode=Mode.SUBTRACT)
        with Locations(Location((205.377900936, 238.874641218, 0), (0, 0, 180))):
            Circle(CROQUIS5_R, mode=Mode.SUBTRACT)
        with Locations((212.947987222, 205.12382354)):
            Circle(CROQUIS5_R_2, mode=Mode.SUBTRACT)
        with Locations((212.947987222, 188.92382354)):
            Circle(CROQUIS5_R_2, mode=Mode.SUBTRACT)
        with Locations((204.847987222, 197.02382354)):
            Circle(CROQUIS5_R_2, mode=Mode.SUBTRACT)
        with Locations((221.047987222, 197.02382354)):
            Circle(CROQUIS5_R_2, mode=Mode.SUBTRACT)
        with Locations((212.947987222, 197.02382354)):
            Circle(CROQUIS5_R_3, mode=Mode.SUBTRACT)
    extrude(amount=SALIENTE_EXTRUIR2_DEPTH)

    # Croquis8 → Saliente-Extruir3 (add)
    with BuildSketch(Plane(origin=(0, 0, 18), x_dir=(-1, 0, 0), z_dir=(0, 0, -1))):
        with Locations((-212.947987222, 143.099381652)):
            Rectangle(CROQUIS8_W, CROQUIS8_H)
        with Locations((-212.947987222, 250.948265429)):
            Rectangle(CROQUIS8_W, CROQUIS8_H)
    extrude(amount=SALIENTE_EXTRUIR3_DEPTH)

    # Croquis9 → Saliente-Extruir4 (add)
    # profile 1 of 2: a face of its own
    with BuildSketch(Plane(origin=(0, 0, -2), x_dir=(-1, 0, 0), z_dir=(0, 0, -1))):
        with Locations((-212.947987222, 151.599381652)):
            Rectangle(CROQUIS9_W, CROQUIS9_H)
        with Locations(Location((-205.377900936, 155.173005863, 0), (0, 0, 180))):
            Circle(CROQUIS9_R, mode=Mode.SUBTRACT)
        with Locations((-220.518073507, 155.173005863)):
            Circle(CROQUIS9_R, mode=Mode.SUBTRACT)
    # profile 2 of 2: a face of its own
    with BuildSketch(Plane(origin=(0, 0, -2), x_dir=(-1, 0, 0), z_dir=(0, 0, -1))):
        with Locations((-212.947987222, 242.448265429)):
            Rectangle(CROQUIS9_W, CROQUIS9_H)
        with Locations((-205.377900936, 238.874641218)):
            Circle(CROQUIS9_R, mode=Mode.SUBTRACT)
        with Locations(Location((-220.518073507, 238.874641218, 0), (0, 0, 180))):
            Circle(CROQUIS9_R, mode=Mode.SUBTRACT)
    extrude(amount=SALIENTE_EXTRUIR4_DEPTH)

    # Redondeo2
    redondeo2_edges = [body_2.edges().sort_by_distance(p)[0] for p in [
        (198.947987222, 161.599381652, -3.5),
        (226.947987222, 161.599381652, -3.5),
        (226.947987222, 232.448265429, -3.5),
        (198.947987222, 232.448265429, -3.5),
    ]]
    fillet(redondeo2_edges, radius=REDONDEO2_R)

    # Croquis14 → Cortar-Extruir1 (cut)
    with BuildSketch(Plane.XZ.offset(-141.599381652)):
        with Locations(Location((212.947987222, 13, 0), (0, 0, 270))):
            Circle(CROQUIS14_R)
    extrude(amount=-CORTAR_EXTRUIR1_DEPTH, mode=Mode.SUBTRACT)


with BuildPart() as body_3:
    # Croquis11 → Saliente-Extruir5 (new body)
    with BuildSketch(Plane(origin=(0, 0, -10), x_dir=(-1, 0, 0), z_dir=(0, 0, -1))):
        with Locations((-212.947987222, 197.02382354)):
            Rectangle(CROQUIS11_W, CROQUIS11_H)
        with Locations((-220.518073507, 238.874641218)):
            Circle(CROQUIS11_R, mode=Mode.SUBTRACT)
        with Locations((-205.377900936, 238.874641218)):
            Circle(CROQUIS11_R, mode=Mode.SUBTRACT)
        with Locations((-205.377900936, 155.173005863)):
            Circle(CROQUIS11_R, mode=Mode.SUBTRACT)
        with Locations((-220.518073507, 155.173005863)):
            Circle(CROQUIS11_R, mode=Mode.SUBTRACT)
        with Locations((-212.947987222, 197.02382354)):
            Circle(CROQUIS11_R_2, mode=Mode.SUBTRACT)
        with Locations((-204.847987222, 197.02382354)):
            Circle(CROQUIS11_R_3, mode=Mode.SUBTRACT)
        with Locations((-212.947987222, 205.12382354)):
            Circle(CROQUIS11_R_3, mode=Mode.SUBTRACT)
        with Locations((-212.947987222, 188.92382354)):
            Circle(CROQUIS11_R_3, mode=Mode.SUBTRACT)
        with Locations((-221.047987222, 197.02382354)):
            Circle(CROQUIS11_R_3, mode=Mode.SUBTRACT)
    extrude(amount=SALIENTE_EXTRUIR5_DEPTH)

    # Redondeo1
    redondeo1_edges = [body_3.edges().sort_by_distance(p)[0] for p in [
        (198.947987222, 151.02382354, -11.5),
        (226.947987222, 151.02382354, -11.5),
        (226.947987222, 243.02382354, -11.5),
        (198.947987222, 243.02382354, -11.5),
    ]]
    fillet(redondeo1_edges, radius=REDONDEO1_R)


solid = Compound([part.part, body_2.part, body_3.part])
